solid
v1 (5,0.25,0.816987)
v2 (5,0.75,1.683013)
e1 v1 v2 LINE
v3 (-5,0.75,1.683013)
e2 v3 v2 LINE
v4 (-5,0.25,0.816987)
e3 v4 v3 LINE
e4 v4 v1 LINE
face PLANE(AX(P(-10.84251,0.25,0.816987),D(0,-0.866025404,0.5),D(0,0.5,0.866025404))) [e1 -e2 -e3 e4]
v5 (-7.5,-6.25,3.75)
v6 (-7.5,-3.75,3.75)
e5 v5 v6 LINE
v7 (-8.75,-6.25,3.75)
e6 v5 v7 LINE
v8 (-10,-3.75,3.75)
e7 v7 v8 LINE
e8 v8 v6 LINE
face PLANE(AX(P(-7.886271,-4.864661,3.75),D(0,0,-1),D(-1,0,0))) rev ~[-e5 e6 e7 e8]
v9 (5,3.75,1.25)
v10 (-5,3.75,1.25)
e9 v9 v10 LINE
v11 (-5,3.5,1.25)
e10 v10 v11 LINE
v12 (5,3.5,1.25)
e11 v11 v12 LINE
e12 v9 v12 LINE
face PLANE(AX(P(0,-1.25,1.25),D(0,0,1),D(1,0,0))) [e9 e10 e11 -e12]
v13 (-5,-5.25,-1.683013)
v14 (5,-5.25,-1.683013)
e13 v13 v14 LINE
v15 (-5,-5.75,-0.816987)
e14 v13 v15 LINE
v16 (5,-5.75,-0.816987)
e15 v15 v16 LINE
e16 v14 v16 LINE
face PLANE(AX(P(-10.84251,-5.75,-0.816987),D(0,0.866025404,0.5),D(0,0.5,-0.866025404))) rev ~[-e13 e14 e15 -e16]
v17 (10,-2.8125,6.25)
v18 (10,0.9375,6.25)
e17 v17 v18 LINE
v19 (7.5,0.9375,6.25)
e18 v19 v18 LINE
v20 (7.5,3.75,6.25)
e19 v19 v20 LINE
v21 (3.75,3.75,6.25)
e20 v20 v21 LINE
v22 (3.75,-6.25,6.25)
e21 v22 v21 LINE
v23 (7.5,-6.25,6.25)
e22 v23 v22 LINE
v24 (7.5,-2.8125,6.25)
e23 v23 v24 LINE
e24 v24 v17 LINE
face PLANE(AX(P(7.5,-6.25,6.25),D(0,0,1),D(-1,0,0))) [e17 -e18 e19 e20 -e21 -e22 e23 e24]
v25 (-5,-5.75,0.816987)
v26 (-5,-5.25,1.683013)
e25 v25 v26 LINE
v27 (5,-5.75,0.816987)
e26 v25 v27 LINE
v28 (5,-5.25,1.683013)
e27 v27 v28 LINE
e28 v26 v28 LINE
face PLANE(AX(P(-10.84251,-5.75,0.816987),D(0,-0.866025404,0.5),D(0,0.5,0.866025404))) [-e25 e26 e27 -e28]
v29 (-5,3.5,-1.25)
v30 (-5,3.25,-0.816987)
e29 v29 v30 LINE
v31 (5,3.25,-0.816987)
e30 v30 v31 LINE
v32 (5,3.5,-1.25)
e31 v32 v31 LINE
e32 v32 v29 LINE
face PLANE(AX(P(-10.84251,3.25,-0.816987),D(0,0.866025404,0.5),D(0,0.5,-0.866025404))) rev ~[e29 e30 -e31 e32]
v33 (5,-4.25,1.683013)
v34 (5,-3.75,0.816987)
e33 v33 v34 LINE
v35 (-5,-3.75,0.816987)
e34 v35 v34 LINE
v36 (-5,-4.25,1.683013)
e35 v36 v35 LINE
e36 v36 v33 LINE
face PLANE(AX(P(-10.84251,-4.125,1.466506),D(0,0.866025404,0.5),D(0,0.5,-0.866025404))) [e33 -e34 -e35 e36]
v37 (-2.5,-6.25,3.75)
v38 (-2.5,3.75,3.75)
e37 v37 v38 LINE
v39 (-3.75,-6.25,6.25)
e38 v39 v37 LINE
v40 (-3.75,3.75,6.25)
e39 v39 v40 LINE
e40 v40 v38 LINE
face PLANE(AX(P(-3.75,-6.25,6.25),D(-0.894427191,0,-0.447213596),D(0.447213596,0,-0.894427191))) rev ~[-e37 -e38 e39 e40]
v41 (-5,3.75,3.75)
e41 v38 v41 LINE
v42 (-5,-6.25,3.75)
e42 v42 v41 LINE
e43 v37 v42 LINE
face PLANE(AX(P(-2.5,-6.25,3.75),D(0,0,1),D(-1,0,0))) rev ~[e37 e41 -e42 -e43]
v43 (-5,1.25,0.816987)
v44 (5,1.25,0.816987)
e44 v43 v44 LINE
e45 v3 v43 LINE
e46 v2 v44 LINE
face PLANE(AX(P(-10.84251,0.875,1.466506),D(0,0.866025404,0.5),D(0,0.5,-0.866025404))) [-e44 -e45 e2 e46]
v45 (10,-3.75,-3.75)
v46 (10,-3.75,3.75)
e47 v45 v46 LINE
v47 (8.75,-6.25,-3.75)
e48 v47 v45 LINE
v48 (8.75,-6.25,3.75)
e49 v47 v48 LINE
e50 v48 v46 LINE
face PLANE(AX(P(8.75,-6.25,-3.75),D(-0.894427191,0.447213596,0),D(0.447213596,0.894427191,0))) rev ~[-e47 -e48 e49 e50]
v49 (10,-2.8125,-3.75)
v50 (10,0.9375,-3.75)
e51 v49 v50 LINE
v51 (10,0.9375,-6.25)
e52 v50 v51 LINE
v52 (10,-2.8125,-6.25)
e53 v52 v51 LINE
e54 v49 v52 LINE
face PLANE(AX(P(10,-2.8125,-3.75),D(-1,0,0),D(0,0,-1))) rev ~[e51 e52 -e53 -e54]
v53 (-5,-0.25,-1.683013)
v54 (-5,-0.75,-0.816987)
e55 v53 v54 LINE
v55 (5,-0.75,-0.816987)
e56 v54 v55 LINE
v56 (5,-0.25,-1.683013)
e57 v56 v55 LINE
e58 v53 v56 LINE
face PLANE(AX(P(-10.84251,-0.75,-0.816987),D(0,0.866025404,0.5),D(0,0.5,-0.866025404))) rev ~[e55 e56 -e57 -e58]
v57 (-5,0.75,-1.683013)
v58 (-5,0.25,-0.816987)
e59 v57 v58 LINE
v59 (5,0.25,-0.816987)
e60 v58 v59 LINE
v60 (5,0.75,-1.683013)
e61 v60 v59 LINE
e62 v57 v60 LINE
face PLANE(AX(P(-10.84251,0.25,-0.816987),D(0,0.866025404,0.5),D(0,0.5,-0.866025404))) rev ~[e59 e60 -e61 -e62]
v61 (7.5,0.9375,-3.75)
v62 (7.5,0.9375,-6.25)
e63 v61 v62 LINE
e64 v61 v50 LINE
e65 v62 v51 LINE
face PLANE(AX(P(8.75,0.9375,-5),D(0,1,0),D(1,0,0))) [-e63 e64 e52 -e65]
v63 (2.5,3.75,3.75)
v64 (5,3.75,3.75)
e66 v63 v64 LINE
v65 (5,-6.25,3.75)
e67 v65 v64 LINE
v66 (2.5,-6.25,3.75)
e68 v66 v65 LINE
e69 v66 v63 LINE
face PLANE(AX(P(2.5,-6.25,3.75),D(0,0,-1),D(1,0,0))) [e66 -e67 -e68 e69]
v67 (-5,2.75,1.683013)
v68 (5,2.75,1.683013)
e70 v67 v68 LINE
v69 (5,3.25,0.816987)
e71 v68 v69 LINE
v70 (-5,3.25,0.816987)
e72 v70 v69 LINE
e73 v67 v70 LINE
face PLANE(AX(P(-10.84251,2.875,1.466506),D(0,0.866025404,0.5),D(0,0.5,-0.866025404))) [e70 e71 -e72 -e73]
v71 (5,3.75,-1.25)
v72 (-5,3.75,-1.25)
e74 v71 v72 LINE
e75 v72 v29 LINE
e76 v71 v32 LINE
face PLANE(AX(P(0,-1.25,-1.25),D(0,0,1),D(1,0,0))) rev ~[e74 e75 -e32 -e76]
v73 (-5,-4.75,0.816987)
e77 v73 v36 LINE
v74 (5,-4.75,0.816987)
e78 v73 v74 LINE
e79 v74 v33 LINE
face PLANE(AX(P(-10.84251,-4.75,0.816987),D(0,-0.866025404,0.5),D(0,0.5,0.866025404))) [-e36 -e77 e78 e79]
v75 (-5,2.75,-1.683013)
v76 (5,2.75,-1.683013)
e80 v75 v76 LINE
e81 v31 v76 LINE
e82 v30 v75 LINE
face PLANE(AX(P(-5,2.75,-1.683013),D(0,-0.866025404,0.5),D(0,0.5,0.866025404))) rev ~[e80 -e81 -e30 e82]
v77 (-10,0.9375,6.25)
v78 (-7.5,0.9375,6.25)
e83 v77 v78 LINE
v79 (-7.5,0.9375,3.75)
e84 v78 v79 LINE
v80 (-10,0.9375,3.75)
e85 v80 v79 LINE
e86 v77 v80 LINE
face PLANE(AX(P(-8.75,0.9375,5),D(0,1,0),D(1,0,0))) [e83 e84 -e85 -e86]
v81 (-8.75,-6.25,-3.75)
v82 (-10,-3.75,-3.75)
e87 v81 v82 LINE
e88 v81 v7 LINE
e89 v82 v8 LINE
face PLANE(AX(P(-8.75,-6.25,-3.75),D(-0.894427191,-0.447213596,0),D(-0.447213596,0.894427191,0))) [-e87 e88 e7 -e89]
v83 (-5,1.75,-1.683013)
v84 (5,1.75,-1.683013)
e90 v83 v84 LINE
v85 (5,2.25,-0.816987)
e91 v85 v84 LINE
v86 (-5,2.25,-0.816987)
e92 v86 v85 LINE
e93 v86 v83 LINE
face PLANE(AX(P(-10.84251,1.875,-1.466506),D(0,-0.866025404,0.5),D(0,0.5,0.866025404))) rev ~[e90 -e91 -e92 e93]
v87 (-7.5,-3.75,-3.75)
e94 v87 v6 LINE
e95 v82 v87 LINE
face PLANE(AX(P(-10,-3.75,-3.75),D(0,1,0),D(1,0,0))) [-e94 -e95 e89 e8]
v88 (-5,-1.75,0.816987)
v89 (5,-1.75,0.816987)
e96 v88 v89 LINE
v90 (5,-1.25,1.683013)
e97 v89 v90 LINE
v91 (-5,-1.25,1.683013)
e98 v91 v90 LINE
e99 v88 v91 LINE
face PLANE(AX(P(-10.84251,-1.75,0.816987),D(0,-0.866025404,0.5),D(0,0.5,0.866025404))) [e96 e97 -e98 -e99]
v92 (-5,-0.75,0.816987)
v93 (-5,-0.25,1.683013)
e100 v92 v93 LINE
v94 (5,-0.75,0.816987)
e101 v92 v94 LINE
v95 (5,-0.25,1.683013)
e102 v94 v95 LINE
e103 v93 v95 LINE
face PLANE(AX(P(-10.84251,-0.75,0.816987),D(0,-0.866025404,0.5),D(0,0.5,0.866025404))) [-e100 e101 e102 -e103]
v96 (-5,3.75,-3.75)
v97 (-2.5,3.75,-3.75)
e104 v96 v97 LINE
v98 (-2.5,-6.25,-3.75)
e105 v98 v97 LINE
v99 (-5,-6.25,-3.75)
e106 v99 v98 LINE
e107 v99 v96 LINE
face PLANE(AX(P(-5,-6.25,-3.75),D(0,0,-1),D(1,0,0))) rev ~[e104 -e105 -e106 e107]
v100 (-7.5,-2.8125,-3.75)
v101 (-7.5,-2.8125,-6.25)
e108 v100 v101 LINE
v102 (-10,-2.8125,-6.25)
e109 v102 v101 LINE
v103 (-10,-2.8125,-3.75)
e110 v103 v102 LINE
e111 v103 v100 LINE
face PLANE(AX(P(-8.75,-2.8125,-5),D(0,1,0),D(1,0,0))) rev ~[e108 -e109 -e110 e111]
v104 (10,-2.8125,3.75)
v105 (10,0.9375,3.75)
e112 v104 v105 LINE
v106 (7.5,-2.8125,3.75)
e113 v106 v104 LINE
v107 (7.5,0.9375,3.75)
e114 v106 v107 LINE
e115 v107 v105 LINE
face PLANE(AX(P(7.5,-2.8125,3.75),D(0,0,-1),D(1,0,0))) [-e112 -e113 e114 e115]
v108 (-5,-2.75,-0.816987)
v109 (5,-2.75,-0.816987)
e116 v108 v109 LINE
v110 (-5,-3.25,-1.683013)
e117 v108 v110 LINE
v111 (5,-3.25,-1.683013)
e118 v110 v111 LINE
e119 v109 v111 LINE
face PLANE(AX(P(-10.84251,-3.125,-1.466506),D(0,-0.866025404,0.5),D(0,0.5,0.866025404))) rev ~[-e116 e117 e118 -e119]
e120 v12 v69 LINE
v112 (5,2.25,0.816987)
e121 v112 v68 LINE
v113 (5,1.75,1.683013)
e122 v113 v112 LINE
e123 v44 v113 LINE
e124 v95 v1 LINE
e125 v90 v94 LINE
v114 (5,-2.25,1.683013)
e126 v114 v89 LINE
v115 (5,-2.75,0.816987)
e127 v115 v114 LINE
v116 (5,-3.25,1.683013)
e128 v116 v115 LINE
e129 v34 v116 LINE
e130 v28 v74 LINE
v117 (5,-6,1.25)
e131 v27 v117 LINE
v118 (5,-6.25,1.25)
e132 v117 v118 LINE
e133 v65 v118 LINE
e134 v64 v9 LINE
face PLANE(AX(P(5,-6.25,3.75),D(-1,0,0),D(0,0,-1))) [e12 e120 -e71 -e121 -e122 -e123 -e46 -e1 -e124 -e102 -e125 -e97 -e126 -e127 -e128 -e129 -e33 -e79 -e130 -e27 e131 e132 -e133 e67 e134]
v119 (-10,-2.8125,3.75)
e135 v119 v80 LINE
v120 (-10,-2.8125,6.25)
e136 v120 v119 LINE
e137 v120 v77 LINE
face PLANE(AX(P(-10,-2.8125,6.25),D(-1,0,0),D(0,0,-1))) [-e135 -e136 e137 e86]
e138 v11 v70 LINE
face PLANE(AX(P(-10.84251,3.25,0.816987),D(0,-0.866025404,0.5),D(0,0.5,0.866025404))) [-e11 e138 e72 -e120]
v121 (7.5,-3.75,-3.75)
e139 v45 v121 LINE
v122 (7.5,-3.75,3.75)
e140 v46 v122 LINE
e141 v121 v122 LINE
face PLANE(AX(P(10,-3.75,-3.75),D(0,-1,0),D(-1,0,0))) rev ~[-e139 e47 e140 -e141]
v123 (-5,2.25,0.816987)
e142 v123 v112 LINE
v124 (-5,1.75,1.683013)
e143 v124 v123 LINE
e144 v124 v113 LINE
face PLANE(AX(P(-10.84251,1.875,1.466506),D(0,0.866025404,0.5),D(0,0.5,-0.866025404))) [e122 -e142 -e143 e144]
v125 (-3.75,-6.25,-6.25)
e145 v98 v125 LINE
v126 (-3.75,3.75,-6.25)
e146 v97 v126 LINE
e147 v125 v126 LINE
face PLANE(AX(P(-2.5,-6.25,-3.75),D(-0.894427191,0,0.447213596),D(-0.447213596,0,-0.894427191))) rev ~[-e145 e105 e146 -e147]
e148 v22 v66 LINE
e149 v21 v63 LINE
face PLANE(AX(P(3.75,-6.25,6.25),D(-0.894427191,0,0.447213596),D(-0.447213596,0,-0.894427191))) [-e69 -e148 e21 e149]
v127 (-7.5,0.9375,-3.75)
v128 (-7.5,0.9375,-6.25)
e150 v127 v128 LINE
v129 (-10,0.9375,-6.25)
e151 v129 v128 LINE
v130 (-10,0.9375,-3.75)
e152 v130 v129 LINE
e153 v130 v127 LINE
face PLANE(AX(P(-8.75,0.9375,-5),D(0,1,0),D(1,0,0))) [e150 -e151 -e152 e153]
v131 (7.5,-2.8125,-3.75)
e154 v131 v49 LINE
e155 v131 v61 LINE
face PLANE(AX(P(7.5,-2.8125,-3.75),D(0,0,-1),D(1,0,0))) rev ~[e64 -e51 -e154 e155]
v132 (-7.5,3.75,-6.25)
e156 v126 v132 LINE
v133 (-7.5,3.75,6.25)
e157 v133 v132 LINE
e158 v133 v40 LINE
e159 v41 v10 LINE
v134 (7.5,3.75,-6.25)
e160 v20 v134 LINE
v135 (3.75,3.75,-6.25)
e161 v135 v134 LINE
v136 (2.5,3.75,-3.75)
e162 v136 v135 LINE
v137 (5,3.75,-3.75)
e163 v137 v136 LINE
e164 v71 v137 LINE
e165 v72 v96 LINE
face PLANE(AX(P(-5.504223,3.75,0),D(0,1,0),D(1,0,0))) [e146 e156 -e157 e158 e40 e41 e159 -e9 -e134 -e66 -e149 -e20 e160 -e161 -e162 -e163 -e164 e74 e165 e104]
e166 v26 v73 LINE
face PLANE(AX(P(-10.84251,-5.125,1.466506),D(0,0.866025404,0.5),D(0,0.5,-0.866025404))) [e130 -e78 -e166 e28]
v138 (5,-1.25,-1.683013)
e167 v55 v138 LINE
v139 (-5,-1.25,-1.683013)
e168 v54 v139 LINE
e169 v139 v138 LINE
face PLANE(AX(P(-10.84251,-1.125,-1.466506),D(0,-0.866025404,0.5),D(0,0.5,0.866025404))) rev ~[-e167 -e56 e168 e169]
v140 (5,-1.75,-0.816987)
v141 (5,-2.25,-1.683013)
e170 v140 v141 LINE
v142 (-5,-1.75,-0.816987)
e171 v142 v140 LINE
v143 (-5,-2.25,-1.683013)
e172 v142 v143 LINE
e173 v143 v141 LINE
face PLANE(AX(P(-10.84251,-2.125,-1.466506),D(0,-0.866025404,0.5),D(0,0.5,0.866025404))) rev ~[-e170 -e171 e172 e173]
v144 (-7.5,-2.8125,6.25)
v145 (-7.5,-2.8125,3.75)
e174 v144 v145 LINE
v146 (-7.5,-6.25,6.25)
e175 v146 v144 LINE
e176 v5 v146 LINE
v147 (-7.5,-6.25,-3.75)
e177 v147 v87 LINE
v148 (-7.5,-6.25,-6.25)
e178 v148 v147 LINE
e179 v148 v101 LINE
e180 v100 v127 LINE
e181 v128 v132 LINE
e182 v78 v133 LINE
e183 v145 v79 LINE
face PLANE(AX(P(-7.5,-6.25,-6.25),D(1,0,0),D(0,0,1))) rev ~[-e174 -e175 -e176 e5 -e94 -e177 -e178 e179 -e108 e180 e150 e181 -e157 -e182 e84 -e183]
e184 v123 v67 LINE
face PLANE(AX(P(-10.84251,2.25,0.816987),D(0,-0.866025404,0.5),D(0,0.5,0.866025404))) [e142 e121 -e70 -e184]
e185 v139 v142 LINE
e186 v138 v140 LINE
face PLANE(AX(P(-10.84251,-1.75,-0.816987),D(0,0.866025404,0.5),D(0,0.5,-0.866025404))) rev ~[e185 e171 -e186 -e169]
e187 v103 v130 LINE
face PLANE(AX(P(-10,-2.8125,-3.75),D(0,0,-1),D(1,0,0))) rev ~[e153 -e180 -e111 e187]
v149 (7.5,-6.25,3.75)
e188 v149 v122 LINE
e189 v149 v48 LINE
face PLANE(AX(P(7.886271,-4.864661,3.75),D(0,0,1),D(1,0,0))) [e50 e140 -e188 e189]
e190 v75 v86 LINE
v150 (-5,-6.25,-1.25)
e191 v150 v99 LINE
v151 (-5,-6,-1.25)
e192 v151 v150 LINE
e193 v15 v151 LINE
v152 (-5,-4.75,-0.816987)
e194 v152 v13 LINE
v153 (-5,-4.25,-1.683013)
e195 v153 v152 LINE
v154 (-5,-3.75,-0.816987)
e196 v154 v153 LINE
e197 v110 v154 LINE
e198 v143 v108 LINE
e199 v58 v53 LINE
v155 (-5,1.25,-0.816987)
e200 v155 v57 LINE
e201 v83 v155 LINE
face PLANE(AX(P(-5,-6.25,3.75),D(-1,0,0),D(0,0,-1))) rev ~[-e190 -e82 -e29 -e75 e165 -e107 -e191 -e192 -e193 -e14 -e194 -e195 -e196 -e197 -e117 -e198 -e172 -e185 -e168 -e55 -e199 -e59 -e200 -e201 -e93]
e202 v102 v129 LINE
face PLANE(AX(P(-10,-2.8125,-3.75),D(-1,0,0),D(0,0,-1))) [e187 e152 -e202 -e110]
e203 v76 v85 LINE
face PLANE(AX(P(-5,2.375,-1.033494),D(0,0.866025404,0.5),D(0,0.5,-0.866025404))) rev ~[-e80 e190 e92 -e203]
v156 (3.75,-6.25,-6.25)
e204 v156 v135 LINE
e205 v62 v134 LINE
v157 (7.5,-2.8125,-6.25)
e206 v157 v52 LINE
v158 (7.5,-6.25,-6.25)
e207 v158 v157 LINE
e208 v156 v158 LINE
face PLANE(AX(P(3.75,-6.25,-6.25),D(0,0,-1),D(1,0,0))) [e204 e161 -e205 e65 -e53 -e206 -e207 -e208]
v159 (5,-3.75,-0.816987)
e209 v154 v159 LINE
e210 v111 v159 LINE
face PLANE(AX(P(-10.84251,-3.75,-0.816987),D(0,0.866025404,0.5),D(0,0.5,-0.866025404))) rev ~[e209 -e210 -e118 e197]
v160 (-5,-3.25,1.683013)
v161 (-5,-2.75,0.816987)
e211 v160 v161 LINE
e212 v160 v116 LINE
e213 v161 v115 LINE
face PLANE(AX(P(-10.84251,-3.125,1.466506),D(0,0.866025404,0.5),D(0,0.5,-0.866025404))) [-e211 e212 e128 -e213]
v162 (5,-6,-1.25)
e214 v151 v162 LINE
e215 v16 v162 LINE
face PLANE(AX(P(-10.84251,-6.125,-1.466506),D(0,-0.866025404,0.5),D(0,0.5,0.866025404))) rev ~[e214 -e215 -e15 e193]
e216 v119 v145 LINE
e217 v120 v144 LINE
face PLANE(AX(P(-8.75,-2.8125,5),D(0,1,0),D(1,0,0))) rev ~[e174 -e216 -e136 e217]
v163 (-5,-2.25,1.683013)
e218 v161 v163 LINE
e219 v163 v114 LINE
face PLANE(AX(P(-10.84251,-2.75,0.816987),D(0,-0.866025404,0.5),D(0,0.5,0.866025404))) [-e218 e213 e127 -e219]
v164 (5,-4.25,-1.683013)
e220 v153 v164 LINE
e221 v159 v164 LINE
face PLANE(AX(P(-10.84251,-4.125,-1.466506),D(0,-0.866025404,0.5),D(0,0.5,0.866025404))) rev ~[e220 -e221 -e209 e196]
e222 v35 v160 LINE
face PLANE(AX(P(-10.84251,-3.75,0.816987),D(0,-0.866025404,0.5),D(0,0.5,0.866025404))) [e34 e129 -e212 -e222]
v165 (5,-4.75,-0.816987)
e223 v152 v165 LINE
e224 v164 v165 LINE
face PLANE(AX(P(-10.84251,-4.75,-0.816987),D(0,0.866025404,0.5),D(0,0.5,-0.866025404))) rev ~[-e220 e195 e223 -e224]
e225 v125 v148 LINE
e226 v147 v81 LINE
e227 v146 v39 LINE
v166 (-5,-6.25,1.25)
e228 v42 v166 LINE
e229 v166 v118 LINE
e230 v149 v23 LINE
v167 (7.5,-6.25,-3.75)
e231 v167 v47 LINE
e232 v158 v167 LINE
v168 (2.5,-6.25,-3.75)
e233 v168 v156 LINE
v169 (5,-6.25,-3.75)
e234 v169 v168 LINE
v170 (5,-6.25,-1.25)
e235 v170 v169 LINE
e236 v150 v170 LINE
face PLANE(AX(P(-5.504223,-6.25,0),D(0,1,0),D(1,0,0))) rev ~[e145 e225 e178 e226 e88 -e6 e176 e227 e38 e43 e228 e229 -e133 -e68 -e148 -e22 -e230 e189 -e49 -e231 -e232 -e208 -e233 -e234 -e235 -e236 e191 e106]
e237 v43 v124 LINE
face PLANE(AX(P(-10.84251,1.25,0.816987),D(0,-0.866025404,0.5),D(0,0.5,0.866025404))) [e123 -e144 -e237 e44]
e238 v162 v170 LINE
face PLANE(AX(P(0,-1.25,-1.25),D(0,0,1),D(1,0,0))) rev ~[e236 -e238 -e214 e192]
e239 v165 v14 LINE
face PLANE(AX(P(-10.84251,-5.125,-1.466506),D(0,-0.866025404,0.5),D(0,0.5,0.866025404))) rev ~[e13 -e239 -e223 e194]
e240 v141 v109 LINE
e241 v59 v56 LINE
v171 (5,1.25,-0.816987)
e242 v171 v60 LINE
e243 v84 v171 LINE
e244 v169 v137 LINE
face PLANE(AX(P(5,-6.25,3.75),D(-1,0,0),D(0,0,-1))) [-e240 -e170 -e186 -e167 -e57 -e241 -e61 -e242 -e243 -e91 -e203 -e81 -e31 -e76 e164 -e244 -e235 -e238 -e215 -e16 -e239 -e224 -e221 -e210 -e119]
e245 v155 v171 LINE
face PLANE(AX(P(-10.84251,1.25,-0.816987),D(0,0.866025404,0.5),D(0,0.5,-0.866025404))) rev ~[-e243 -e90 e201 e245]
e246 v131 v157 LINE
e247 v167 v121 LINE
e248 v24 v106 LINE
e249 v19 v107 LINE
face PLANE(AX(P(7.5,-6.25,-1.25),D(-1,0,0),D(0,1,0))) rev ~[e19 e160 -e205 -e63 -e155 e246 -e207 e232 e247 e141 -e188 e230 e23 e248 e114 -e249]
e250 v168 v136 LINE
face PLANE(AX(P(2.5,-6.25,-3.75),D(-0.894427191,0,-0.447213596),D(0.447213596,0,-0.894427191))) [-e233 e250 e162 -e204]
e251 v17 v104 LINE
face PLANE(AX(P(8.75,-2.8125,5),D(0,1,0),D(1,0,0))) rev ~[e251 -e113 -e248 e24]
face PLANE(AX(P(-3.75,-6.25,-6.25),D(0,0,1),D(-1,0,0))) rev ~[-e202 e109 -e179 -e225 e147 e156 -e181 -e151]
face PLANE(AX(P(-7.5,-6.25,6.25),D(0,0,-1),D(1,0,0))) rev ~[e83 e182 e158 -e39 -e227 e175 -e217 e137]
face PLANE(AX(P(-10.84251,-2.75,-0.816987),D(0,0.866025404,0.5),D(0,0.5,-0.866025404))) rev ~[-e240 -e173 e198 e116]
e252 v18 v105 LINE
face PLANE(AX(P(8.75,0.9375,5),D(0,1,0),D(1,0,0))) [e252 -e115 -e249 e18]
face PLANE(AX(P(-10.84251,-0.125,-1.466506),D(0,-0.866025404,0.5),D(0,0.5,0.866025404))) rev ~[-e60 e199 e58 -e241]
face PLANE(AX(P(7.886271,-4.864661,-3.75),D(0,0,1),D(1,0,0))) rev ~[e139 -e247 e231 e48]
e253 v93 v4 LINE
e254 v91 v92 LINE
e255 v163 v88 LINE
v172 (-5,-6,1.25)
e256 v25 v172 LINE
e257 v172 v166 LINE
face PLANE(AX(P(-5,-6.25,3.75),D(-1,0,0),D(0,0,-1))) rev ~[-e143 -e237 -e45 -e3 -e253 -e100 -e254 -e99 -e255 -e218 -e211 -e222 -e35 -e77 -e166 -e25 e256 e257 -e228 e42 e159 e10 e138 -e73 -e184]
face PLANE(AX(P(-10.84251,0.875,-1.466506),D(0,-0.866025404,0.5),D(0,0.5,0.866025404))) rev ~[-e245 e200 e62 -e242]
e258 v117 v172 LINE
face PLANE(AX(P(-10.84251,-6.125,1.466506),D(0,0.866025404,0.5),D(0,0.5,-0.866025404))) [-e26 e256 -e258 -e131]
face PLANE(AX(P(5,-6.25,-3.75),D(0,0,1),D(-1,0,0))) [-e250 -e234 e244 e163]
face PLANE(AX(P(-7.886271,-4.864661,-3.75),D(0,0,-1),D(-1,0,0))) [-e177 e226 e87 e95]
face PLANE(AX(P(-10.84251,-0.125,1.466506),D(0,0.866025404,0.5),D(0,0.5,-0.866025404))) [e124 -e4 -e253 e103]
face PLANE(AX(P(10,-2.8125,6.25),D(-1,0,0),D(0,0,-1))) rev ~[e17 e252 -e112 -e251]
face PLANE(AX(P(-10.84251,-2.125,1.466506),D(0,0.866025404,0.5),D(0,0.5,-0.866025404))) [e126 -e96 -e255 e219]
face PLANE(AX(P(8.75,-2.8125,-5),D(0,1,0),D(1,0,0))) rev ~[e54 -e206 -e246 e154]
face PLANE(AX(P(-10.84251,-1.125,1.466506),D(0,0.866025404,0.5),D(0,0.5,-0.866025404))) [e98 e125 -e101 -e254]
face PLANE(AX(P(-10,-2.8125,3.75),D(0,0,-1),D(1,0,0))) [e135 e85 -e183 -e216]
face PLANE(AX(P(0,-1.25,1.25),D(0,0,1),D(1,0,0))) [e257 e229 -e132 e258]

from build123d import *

# Parameters (mm, degrees)
BOSS_EXTRUDE1_DEPTH      = 1.25
BOSS_EXTRUDE1_DEPTH_BACK = 1.25
CUT_EXTRUDE1_DEPTH       = 10.842509843
CUT_EXTRUDE1_DEPTH_BACK  = 10.842509843
BOSS_EXTRUDE4_DEPTH      = 5
BOSS_EXTRUDE4_DEPTH_BACK = 5
BOSS_EXTRUDE2_DEPTH      = 3.75
BOSS_EXTRUDE2_DEPTH_BACK = 6.25
BOSS_EXTRUDE3_DEPTH      = 3.75
BOSS_EXTRUDE3_DEPTH_BACK = 3.75
BOSS_EXTRUDE5_DEPTH      = 0.9375
BOSS_EXTRUDE5_DEPTH_BACK = 2.8125
SKETCH6_W                = 2.5
SKETCH6_H                = 2.5


with BuildPart() as part:
    # Sketch1 → Boss-Extrude1 (new, two sides: drawn at the far end of the back side and taken through both)
    with BuildSketch(Plane.XY.offset(-BOSS_EXTRUDE1_DEPTH_BACK)):
        Polygon((-7.5, -3.75), (-7.5, -6.25), (7.5, -6.25), (7.5, -3.75), (7.5, 3.75), (-7.5, 3.75), align=None)
    extrude(amount=BOSS_EXTRUDE1_DEPTH + BOSS_EXTRUDE1_DEPTH_BACK)

    # Sketch4 → Cut-Extrude1 (cut, two sides: drawn at the far end of the back side and taken through both)
    with BuildSketch(Plane(origin=(0, 0, 0), x_dir=(0, 0, -1), z_dir=(1, 0, 0)).offset(-CUT_EXTRUDE1_DEPTH_BACK)):
        Polygon((-0.816987298, 3.25), (-1.466506351, 3.625), (-1.466506351, 2.875), align=None)
        Polygon((-1.466506351, 1.875), (-0.816987298, 2.25), (-1.466506351, 2.625), align=None)
        Polygon((-1.466506351, 0.875), (-0.816987298, 1.25), (-1.466506351, 1.625), align=None)
        Polygon((-1.466506351, -0.125), (-0.816987298, 0.25), (-1.466506351, 0.625), align=None)
        Polygon((-1.466506351, -1.125), (-0.816987298, -0.75), (-1.466506351, -0.375), align=None)
        Polygon((-1.466506351, -2.125), (-0.816987298, -1.75), (-1.466506351, -1.375), align=None)
        Polygon((-1.466506351, -3.125), (-0.816987298, -2.75), (-1.466506351, -2.375), align=None)
        Polygon((-1.466506351, -4.125), (-0.816987298, -3.75), (-1.466506351, -3.375), align=None)
        Polygon((-1.466506351, -5.125), (-0.816987298, -4.75), (-1.466506351, -4.375), align=None)
        Polygon((-1.466506351, -6.125), (-0.816987298, -5.75), (-1.466506351, -5.375), align=None)
        Polygon((1.466506351, -5.375), (1.466506351, -6.125), (0.816987298, -5.75), align=None)
        Polygon((1.466506351, -4.375), (1.466506351, -5.125), (0.816987298, -4.75), align=None)
        Polygon((1.466506351, -3.375), (1.466506351, -4.125), (0.816987298, -3.75), align=None)
        Polygon((1.466506351, -2.375), (1.466506351, -3.125), (0.816987298, -2.75), align=None)
        Polygon((1.466506351, -1.375), (1.466506351, -2.125), (0.816987298, -1.75), align=None)
        Polygon((1.466506351, -0.375), (1.466506351, -1.125), (0.816987298, -0.75), align=None)
        Polygon((1.466506351, 0.625), (1.466506351, -0.125), (0.816987298, 0.25), align=None)
        Polygon((1.466506351, 1.625), (1.466506351, 0.875), (0.816987298, 1.25), align=None)
        Polygon((1.466506351, 2.625), (1.466506351, 1.875), (0.816987298, 2.25), align=None)
        Polygon((1.466506351, 2.875), (0.816987298, 3.25), (1.466506351, 3.625), align=None)
    extrude(amount=CUT_EXTRUDE1_DEPTH + CUT_EXTRUDE1_DEPTH_BACK, mode=Mode.SUBTRACT)

    # Sketch5 → Boss-Extrude4 (add, two sides: drawn at the far end of the back side and taken through both)
    with BuildSketch(Plane(origin=(0, 0, 0), x_dir=(0, 0, -1), z_dir=(1, 0, 0)).offset(-BOSS_EXTRUDE4_DEPTH_BACK)):
        Polygon((1.683012702, 2.75), (1.033493649, 3.125), (1.033493649, 2.375), align=None)
        Polygon((1.033493649, 1.375), (1.683012702, 1.75), (1.033493649, 2.125), align=None)
        Polygon((1.033493649, 0.375), (1.683012702, 0.75), (1.033493649, 1.125), align=None)
        Polygon((1.033493649, -0.625), (1.683012702, -0.25), (1.033493649, 0.125), align=None)
        Polygon((1.033493649, -1.625), (1.683012702, -1.25), (1.033493649, -0.875), align=None)
        Polygon((1.033493649, -2.625), (1.683012702, -2.25), (1.033493649, -1.875), align=None)
        Polygon((1.033493649, -3.625), (1.683012702, -3.25), (1.033493649, -2.875), align=None)
        Polygon((1.033493649, -4.625), (1.683012702, -4.25), (1.033493649, -3.875), align=None)
        Polygon((1.033493649, -5.625), (1.683012702, -5.25), (1.033493649, -4.875), align=None)
        Polygon((-1.033493649, -4.875), (-1.033493649, -5.625), (-1.683012702, -5.25), align=None)
        Polygon((-1.033493649, -3.875), (-1.033493649, -4.625), (-1.683012702, -4.25), align=None)
        Polygon((-1.033493649, -2.875), (-1.033493649, -3.625), (-1.683012702, -3.25), align=None)
        Polygon((-1.033493649, -1.875), (-1.033493649, -2.625), (-1.683012702, -2.25), align=None)
        Polygon((-1.033493649, -0.875), (-1.033493649, -1.625), (-1.683012702, -1.25), align=None)
        Polygon((-1.033493649, 0.125), (-1.033493649, -0.625), (-1.683012702, -0.25), align=None)
        Polygon((-1.033493649, 1.125), (-1.033493649, 0.375), (-1.683012702, 0.75), align=None)
        Polygon((-1.033493649, 2.125), (-1.033493649, 1.375), (-1.683012702, 1.75), align=None)
        Polygon((-1.033493649, 2.375), (-1.683012702, 2.75), (-1.033493649, 3.125), align=None)
    extrude(amount=BOSS_EXTRUDE4_DEPTH + BOSS_EXTRUDE4_DEPTH_BACK)

    # Sketch2 → Boss-Extrude2 (add, two sides: drawn at the far end of the back side and taken through both)
    with BuildSketch(Plane(origin=(0, 0, 0), x_dir=(1, 0, 0), z_dir=(0, 1, 0)).offset(-BOSS_EXTRUDE2_DEPTH_BACK)):
        Polygon((-7.5, -6.25), (-3.75, -6.25), (-2.5, -3.75), (-5, -3.75), (-5, 3.75), (-2.5, 3.75), (-3.75, 6.25), (-7.5, 6.25), align=None)
        Polygon((7.5, -6.25), (3.75, -6.25), (2.5, -3.75), (5, -3.75), (5, 3.75), (2.5, 3.75), (3.75, 6.25), (7.5, 6.25), align=None)
    extrude(amount=BOSS_EXTRUDE2_DEPTH + BOSS_EXTRUDE2_DEPTH_BACK)

    # Sketch3 → Boss-Extrude3 (add, two sides: drawn at the far end of the back side and taken through both)
    with BuildSketch(Plane.XY.offset(-BOSS_EXTRUDE3_DEPTH_BACK)):
        Polygon((-6.25, -6.25), (-8.75, -6.25), (-10, -3.75), (-6.25, -3.75), align=None)
        Polygon((6.25, -6.25), (8.75, -6.25), (10, -3.75), (6.25, -3.75), align=None)
    extrude(amount=BOSS_EXTRUDE3_DEPTH + BOSS_EXTRUDE3_DEPTH_BACK)

    # Sketch6 → Boss-Extrude5 (add, two sides: drawn at the far end of the back side and taken through both)
    with BuildSketch(Plane(origin=(0, 0, 0), x_dir=(1, 0, 0), z_dir=(0, 1, 0)).offset(-BOSS_EXTRUDE5_DEPTH_BACK)):
        with Locations((-8.75, -5)):
            Rectangle(SKETCH6_W, SKETCH6_H)
        with Locations((-8.75, 5)):
            Rectangle(SKETCH6_W, SKETCH6_H)
        with Locations((8.75, 5)):
            Rectangle(SKETCH6_W, SKETCH6_H)
        with Locations((8.75, -5)):
            Rectangle(SKETCH6_W, SKETCH6_H)
    extrude(amount=BOSS_EXTRUDE5_DEPTH + BOSS_EXTRUDE5_DEPTH_BACK)


solid = part.part
